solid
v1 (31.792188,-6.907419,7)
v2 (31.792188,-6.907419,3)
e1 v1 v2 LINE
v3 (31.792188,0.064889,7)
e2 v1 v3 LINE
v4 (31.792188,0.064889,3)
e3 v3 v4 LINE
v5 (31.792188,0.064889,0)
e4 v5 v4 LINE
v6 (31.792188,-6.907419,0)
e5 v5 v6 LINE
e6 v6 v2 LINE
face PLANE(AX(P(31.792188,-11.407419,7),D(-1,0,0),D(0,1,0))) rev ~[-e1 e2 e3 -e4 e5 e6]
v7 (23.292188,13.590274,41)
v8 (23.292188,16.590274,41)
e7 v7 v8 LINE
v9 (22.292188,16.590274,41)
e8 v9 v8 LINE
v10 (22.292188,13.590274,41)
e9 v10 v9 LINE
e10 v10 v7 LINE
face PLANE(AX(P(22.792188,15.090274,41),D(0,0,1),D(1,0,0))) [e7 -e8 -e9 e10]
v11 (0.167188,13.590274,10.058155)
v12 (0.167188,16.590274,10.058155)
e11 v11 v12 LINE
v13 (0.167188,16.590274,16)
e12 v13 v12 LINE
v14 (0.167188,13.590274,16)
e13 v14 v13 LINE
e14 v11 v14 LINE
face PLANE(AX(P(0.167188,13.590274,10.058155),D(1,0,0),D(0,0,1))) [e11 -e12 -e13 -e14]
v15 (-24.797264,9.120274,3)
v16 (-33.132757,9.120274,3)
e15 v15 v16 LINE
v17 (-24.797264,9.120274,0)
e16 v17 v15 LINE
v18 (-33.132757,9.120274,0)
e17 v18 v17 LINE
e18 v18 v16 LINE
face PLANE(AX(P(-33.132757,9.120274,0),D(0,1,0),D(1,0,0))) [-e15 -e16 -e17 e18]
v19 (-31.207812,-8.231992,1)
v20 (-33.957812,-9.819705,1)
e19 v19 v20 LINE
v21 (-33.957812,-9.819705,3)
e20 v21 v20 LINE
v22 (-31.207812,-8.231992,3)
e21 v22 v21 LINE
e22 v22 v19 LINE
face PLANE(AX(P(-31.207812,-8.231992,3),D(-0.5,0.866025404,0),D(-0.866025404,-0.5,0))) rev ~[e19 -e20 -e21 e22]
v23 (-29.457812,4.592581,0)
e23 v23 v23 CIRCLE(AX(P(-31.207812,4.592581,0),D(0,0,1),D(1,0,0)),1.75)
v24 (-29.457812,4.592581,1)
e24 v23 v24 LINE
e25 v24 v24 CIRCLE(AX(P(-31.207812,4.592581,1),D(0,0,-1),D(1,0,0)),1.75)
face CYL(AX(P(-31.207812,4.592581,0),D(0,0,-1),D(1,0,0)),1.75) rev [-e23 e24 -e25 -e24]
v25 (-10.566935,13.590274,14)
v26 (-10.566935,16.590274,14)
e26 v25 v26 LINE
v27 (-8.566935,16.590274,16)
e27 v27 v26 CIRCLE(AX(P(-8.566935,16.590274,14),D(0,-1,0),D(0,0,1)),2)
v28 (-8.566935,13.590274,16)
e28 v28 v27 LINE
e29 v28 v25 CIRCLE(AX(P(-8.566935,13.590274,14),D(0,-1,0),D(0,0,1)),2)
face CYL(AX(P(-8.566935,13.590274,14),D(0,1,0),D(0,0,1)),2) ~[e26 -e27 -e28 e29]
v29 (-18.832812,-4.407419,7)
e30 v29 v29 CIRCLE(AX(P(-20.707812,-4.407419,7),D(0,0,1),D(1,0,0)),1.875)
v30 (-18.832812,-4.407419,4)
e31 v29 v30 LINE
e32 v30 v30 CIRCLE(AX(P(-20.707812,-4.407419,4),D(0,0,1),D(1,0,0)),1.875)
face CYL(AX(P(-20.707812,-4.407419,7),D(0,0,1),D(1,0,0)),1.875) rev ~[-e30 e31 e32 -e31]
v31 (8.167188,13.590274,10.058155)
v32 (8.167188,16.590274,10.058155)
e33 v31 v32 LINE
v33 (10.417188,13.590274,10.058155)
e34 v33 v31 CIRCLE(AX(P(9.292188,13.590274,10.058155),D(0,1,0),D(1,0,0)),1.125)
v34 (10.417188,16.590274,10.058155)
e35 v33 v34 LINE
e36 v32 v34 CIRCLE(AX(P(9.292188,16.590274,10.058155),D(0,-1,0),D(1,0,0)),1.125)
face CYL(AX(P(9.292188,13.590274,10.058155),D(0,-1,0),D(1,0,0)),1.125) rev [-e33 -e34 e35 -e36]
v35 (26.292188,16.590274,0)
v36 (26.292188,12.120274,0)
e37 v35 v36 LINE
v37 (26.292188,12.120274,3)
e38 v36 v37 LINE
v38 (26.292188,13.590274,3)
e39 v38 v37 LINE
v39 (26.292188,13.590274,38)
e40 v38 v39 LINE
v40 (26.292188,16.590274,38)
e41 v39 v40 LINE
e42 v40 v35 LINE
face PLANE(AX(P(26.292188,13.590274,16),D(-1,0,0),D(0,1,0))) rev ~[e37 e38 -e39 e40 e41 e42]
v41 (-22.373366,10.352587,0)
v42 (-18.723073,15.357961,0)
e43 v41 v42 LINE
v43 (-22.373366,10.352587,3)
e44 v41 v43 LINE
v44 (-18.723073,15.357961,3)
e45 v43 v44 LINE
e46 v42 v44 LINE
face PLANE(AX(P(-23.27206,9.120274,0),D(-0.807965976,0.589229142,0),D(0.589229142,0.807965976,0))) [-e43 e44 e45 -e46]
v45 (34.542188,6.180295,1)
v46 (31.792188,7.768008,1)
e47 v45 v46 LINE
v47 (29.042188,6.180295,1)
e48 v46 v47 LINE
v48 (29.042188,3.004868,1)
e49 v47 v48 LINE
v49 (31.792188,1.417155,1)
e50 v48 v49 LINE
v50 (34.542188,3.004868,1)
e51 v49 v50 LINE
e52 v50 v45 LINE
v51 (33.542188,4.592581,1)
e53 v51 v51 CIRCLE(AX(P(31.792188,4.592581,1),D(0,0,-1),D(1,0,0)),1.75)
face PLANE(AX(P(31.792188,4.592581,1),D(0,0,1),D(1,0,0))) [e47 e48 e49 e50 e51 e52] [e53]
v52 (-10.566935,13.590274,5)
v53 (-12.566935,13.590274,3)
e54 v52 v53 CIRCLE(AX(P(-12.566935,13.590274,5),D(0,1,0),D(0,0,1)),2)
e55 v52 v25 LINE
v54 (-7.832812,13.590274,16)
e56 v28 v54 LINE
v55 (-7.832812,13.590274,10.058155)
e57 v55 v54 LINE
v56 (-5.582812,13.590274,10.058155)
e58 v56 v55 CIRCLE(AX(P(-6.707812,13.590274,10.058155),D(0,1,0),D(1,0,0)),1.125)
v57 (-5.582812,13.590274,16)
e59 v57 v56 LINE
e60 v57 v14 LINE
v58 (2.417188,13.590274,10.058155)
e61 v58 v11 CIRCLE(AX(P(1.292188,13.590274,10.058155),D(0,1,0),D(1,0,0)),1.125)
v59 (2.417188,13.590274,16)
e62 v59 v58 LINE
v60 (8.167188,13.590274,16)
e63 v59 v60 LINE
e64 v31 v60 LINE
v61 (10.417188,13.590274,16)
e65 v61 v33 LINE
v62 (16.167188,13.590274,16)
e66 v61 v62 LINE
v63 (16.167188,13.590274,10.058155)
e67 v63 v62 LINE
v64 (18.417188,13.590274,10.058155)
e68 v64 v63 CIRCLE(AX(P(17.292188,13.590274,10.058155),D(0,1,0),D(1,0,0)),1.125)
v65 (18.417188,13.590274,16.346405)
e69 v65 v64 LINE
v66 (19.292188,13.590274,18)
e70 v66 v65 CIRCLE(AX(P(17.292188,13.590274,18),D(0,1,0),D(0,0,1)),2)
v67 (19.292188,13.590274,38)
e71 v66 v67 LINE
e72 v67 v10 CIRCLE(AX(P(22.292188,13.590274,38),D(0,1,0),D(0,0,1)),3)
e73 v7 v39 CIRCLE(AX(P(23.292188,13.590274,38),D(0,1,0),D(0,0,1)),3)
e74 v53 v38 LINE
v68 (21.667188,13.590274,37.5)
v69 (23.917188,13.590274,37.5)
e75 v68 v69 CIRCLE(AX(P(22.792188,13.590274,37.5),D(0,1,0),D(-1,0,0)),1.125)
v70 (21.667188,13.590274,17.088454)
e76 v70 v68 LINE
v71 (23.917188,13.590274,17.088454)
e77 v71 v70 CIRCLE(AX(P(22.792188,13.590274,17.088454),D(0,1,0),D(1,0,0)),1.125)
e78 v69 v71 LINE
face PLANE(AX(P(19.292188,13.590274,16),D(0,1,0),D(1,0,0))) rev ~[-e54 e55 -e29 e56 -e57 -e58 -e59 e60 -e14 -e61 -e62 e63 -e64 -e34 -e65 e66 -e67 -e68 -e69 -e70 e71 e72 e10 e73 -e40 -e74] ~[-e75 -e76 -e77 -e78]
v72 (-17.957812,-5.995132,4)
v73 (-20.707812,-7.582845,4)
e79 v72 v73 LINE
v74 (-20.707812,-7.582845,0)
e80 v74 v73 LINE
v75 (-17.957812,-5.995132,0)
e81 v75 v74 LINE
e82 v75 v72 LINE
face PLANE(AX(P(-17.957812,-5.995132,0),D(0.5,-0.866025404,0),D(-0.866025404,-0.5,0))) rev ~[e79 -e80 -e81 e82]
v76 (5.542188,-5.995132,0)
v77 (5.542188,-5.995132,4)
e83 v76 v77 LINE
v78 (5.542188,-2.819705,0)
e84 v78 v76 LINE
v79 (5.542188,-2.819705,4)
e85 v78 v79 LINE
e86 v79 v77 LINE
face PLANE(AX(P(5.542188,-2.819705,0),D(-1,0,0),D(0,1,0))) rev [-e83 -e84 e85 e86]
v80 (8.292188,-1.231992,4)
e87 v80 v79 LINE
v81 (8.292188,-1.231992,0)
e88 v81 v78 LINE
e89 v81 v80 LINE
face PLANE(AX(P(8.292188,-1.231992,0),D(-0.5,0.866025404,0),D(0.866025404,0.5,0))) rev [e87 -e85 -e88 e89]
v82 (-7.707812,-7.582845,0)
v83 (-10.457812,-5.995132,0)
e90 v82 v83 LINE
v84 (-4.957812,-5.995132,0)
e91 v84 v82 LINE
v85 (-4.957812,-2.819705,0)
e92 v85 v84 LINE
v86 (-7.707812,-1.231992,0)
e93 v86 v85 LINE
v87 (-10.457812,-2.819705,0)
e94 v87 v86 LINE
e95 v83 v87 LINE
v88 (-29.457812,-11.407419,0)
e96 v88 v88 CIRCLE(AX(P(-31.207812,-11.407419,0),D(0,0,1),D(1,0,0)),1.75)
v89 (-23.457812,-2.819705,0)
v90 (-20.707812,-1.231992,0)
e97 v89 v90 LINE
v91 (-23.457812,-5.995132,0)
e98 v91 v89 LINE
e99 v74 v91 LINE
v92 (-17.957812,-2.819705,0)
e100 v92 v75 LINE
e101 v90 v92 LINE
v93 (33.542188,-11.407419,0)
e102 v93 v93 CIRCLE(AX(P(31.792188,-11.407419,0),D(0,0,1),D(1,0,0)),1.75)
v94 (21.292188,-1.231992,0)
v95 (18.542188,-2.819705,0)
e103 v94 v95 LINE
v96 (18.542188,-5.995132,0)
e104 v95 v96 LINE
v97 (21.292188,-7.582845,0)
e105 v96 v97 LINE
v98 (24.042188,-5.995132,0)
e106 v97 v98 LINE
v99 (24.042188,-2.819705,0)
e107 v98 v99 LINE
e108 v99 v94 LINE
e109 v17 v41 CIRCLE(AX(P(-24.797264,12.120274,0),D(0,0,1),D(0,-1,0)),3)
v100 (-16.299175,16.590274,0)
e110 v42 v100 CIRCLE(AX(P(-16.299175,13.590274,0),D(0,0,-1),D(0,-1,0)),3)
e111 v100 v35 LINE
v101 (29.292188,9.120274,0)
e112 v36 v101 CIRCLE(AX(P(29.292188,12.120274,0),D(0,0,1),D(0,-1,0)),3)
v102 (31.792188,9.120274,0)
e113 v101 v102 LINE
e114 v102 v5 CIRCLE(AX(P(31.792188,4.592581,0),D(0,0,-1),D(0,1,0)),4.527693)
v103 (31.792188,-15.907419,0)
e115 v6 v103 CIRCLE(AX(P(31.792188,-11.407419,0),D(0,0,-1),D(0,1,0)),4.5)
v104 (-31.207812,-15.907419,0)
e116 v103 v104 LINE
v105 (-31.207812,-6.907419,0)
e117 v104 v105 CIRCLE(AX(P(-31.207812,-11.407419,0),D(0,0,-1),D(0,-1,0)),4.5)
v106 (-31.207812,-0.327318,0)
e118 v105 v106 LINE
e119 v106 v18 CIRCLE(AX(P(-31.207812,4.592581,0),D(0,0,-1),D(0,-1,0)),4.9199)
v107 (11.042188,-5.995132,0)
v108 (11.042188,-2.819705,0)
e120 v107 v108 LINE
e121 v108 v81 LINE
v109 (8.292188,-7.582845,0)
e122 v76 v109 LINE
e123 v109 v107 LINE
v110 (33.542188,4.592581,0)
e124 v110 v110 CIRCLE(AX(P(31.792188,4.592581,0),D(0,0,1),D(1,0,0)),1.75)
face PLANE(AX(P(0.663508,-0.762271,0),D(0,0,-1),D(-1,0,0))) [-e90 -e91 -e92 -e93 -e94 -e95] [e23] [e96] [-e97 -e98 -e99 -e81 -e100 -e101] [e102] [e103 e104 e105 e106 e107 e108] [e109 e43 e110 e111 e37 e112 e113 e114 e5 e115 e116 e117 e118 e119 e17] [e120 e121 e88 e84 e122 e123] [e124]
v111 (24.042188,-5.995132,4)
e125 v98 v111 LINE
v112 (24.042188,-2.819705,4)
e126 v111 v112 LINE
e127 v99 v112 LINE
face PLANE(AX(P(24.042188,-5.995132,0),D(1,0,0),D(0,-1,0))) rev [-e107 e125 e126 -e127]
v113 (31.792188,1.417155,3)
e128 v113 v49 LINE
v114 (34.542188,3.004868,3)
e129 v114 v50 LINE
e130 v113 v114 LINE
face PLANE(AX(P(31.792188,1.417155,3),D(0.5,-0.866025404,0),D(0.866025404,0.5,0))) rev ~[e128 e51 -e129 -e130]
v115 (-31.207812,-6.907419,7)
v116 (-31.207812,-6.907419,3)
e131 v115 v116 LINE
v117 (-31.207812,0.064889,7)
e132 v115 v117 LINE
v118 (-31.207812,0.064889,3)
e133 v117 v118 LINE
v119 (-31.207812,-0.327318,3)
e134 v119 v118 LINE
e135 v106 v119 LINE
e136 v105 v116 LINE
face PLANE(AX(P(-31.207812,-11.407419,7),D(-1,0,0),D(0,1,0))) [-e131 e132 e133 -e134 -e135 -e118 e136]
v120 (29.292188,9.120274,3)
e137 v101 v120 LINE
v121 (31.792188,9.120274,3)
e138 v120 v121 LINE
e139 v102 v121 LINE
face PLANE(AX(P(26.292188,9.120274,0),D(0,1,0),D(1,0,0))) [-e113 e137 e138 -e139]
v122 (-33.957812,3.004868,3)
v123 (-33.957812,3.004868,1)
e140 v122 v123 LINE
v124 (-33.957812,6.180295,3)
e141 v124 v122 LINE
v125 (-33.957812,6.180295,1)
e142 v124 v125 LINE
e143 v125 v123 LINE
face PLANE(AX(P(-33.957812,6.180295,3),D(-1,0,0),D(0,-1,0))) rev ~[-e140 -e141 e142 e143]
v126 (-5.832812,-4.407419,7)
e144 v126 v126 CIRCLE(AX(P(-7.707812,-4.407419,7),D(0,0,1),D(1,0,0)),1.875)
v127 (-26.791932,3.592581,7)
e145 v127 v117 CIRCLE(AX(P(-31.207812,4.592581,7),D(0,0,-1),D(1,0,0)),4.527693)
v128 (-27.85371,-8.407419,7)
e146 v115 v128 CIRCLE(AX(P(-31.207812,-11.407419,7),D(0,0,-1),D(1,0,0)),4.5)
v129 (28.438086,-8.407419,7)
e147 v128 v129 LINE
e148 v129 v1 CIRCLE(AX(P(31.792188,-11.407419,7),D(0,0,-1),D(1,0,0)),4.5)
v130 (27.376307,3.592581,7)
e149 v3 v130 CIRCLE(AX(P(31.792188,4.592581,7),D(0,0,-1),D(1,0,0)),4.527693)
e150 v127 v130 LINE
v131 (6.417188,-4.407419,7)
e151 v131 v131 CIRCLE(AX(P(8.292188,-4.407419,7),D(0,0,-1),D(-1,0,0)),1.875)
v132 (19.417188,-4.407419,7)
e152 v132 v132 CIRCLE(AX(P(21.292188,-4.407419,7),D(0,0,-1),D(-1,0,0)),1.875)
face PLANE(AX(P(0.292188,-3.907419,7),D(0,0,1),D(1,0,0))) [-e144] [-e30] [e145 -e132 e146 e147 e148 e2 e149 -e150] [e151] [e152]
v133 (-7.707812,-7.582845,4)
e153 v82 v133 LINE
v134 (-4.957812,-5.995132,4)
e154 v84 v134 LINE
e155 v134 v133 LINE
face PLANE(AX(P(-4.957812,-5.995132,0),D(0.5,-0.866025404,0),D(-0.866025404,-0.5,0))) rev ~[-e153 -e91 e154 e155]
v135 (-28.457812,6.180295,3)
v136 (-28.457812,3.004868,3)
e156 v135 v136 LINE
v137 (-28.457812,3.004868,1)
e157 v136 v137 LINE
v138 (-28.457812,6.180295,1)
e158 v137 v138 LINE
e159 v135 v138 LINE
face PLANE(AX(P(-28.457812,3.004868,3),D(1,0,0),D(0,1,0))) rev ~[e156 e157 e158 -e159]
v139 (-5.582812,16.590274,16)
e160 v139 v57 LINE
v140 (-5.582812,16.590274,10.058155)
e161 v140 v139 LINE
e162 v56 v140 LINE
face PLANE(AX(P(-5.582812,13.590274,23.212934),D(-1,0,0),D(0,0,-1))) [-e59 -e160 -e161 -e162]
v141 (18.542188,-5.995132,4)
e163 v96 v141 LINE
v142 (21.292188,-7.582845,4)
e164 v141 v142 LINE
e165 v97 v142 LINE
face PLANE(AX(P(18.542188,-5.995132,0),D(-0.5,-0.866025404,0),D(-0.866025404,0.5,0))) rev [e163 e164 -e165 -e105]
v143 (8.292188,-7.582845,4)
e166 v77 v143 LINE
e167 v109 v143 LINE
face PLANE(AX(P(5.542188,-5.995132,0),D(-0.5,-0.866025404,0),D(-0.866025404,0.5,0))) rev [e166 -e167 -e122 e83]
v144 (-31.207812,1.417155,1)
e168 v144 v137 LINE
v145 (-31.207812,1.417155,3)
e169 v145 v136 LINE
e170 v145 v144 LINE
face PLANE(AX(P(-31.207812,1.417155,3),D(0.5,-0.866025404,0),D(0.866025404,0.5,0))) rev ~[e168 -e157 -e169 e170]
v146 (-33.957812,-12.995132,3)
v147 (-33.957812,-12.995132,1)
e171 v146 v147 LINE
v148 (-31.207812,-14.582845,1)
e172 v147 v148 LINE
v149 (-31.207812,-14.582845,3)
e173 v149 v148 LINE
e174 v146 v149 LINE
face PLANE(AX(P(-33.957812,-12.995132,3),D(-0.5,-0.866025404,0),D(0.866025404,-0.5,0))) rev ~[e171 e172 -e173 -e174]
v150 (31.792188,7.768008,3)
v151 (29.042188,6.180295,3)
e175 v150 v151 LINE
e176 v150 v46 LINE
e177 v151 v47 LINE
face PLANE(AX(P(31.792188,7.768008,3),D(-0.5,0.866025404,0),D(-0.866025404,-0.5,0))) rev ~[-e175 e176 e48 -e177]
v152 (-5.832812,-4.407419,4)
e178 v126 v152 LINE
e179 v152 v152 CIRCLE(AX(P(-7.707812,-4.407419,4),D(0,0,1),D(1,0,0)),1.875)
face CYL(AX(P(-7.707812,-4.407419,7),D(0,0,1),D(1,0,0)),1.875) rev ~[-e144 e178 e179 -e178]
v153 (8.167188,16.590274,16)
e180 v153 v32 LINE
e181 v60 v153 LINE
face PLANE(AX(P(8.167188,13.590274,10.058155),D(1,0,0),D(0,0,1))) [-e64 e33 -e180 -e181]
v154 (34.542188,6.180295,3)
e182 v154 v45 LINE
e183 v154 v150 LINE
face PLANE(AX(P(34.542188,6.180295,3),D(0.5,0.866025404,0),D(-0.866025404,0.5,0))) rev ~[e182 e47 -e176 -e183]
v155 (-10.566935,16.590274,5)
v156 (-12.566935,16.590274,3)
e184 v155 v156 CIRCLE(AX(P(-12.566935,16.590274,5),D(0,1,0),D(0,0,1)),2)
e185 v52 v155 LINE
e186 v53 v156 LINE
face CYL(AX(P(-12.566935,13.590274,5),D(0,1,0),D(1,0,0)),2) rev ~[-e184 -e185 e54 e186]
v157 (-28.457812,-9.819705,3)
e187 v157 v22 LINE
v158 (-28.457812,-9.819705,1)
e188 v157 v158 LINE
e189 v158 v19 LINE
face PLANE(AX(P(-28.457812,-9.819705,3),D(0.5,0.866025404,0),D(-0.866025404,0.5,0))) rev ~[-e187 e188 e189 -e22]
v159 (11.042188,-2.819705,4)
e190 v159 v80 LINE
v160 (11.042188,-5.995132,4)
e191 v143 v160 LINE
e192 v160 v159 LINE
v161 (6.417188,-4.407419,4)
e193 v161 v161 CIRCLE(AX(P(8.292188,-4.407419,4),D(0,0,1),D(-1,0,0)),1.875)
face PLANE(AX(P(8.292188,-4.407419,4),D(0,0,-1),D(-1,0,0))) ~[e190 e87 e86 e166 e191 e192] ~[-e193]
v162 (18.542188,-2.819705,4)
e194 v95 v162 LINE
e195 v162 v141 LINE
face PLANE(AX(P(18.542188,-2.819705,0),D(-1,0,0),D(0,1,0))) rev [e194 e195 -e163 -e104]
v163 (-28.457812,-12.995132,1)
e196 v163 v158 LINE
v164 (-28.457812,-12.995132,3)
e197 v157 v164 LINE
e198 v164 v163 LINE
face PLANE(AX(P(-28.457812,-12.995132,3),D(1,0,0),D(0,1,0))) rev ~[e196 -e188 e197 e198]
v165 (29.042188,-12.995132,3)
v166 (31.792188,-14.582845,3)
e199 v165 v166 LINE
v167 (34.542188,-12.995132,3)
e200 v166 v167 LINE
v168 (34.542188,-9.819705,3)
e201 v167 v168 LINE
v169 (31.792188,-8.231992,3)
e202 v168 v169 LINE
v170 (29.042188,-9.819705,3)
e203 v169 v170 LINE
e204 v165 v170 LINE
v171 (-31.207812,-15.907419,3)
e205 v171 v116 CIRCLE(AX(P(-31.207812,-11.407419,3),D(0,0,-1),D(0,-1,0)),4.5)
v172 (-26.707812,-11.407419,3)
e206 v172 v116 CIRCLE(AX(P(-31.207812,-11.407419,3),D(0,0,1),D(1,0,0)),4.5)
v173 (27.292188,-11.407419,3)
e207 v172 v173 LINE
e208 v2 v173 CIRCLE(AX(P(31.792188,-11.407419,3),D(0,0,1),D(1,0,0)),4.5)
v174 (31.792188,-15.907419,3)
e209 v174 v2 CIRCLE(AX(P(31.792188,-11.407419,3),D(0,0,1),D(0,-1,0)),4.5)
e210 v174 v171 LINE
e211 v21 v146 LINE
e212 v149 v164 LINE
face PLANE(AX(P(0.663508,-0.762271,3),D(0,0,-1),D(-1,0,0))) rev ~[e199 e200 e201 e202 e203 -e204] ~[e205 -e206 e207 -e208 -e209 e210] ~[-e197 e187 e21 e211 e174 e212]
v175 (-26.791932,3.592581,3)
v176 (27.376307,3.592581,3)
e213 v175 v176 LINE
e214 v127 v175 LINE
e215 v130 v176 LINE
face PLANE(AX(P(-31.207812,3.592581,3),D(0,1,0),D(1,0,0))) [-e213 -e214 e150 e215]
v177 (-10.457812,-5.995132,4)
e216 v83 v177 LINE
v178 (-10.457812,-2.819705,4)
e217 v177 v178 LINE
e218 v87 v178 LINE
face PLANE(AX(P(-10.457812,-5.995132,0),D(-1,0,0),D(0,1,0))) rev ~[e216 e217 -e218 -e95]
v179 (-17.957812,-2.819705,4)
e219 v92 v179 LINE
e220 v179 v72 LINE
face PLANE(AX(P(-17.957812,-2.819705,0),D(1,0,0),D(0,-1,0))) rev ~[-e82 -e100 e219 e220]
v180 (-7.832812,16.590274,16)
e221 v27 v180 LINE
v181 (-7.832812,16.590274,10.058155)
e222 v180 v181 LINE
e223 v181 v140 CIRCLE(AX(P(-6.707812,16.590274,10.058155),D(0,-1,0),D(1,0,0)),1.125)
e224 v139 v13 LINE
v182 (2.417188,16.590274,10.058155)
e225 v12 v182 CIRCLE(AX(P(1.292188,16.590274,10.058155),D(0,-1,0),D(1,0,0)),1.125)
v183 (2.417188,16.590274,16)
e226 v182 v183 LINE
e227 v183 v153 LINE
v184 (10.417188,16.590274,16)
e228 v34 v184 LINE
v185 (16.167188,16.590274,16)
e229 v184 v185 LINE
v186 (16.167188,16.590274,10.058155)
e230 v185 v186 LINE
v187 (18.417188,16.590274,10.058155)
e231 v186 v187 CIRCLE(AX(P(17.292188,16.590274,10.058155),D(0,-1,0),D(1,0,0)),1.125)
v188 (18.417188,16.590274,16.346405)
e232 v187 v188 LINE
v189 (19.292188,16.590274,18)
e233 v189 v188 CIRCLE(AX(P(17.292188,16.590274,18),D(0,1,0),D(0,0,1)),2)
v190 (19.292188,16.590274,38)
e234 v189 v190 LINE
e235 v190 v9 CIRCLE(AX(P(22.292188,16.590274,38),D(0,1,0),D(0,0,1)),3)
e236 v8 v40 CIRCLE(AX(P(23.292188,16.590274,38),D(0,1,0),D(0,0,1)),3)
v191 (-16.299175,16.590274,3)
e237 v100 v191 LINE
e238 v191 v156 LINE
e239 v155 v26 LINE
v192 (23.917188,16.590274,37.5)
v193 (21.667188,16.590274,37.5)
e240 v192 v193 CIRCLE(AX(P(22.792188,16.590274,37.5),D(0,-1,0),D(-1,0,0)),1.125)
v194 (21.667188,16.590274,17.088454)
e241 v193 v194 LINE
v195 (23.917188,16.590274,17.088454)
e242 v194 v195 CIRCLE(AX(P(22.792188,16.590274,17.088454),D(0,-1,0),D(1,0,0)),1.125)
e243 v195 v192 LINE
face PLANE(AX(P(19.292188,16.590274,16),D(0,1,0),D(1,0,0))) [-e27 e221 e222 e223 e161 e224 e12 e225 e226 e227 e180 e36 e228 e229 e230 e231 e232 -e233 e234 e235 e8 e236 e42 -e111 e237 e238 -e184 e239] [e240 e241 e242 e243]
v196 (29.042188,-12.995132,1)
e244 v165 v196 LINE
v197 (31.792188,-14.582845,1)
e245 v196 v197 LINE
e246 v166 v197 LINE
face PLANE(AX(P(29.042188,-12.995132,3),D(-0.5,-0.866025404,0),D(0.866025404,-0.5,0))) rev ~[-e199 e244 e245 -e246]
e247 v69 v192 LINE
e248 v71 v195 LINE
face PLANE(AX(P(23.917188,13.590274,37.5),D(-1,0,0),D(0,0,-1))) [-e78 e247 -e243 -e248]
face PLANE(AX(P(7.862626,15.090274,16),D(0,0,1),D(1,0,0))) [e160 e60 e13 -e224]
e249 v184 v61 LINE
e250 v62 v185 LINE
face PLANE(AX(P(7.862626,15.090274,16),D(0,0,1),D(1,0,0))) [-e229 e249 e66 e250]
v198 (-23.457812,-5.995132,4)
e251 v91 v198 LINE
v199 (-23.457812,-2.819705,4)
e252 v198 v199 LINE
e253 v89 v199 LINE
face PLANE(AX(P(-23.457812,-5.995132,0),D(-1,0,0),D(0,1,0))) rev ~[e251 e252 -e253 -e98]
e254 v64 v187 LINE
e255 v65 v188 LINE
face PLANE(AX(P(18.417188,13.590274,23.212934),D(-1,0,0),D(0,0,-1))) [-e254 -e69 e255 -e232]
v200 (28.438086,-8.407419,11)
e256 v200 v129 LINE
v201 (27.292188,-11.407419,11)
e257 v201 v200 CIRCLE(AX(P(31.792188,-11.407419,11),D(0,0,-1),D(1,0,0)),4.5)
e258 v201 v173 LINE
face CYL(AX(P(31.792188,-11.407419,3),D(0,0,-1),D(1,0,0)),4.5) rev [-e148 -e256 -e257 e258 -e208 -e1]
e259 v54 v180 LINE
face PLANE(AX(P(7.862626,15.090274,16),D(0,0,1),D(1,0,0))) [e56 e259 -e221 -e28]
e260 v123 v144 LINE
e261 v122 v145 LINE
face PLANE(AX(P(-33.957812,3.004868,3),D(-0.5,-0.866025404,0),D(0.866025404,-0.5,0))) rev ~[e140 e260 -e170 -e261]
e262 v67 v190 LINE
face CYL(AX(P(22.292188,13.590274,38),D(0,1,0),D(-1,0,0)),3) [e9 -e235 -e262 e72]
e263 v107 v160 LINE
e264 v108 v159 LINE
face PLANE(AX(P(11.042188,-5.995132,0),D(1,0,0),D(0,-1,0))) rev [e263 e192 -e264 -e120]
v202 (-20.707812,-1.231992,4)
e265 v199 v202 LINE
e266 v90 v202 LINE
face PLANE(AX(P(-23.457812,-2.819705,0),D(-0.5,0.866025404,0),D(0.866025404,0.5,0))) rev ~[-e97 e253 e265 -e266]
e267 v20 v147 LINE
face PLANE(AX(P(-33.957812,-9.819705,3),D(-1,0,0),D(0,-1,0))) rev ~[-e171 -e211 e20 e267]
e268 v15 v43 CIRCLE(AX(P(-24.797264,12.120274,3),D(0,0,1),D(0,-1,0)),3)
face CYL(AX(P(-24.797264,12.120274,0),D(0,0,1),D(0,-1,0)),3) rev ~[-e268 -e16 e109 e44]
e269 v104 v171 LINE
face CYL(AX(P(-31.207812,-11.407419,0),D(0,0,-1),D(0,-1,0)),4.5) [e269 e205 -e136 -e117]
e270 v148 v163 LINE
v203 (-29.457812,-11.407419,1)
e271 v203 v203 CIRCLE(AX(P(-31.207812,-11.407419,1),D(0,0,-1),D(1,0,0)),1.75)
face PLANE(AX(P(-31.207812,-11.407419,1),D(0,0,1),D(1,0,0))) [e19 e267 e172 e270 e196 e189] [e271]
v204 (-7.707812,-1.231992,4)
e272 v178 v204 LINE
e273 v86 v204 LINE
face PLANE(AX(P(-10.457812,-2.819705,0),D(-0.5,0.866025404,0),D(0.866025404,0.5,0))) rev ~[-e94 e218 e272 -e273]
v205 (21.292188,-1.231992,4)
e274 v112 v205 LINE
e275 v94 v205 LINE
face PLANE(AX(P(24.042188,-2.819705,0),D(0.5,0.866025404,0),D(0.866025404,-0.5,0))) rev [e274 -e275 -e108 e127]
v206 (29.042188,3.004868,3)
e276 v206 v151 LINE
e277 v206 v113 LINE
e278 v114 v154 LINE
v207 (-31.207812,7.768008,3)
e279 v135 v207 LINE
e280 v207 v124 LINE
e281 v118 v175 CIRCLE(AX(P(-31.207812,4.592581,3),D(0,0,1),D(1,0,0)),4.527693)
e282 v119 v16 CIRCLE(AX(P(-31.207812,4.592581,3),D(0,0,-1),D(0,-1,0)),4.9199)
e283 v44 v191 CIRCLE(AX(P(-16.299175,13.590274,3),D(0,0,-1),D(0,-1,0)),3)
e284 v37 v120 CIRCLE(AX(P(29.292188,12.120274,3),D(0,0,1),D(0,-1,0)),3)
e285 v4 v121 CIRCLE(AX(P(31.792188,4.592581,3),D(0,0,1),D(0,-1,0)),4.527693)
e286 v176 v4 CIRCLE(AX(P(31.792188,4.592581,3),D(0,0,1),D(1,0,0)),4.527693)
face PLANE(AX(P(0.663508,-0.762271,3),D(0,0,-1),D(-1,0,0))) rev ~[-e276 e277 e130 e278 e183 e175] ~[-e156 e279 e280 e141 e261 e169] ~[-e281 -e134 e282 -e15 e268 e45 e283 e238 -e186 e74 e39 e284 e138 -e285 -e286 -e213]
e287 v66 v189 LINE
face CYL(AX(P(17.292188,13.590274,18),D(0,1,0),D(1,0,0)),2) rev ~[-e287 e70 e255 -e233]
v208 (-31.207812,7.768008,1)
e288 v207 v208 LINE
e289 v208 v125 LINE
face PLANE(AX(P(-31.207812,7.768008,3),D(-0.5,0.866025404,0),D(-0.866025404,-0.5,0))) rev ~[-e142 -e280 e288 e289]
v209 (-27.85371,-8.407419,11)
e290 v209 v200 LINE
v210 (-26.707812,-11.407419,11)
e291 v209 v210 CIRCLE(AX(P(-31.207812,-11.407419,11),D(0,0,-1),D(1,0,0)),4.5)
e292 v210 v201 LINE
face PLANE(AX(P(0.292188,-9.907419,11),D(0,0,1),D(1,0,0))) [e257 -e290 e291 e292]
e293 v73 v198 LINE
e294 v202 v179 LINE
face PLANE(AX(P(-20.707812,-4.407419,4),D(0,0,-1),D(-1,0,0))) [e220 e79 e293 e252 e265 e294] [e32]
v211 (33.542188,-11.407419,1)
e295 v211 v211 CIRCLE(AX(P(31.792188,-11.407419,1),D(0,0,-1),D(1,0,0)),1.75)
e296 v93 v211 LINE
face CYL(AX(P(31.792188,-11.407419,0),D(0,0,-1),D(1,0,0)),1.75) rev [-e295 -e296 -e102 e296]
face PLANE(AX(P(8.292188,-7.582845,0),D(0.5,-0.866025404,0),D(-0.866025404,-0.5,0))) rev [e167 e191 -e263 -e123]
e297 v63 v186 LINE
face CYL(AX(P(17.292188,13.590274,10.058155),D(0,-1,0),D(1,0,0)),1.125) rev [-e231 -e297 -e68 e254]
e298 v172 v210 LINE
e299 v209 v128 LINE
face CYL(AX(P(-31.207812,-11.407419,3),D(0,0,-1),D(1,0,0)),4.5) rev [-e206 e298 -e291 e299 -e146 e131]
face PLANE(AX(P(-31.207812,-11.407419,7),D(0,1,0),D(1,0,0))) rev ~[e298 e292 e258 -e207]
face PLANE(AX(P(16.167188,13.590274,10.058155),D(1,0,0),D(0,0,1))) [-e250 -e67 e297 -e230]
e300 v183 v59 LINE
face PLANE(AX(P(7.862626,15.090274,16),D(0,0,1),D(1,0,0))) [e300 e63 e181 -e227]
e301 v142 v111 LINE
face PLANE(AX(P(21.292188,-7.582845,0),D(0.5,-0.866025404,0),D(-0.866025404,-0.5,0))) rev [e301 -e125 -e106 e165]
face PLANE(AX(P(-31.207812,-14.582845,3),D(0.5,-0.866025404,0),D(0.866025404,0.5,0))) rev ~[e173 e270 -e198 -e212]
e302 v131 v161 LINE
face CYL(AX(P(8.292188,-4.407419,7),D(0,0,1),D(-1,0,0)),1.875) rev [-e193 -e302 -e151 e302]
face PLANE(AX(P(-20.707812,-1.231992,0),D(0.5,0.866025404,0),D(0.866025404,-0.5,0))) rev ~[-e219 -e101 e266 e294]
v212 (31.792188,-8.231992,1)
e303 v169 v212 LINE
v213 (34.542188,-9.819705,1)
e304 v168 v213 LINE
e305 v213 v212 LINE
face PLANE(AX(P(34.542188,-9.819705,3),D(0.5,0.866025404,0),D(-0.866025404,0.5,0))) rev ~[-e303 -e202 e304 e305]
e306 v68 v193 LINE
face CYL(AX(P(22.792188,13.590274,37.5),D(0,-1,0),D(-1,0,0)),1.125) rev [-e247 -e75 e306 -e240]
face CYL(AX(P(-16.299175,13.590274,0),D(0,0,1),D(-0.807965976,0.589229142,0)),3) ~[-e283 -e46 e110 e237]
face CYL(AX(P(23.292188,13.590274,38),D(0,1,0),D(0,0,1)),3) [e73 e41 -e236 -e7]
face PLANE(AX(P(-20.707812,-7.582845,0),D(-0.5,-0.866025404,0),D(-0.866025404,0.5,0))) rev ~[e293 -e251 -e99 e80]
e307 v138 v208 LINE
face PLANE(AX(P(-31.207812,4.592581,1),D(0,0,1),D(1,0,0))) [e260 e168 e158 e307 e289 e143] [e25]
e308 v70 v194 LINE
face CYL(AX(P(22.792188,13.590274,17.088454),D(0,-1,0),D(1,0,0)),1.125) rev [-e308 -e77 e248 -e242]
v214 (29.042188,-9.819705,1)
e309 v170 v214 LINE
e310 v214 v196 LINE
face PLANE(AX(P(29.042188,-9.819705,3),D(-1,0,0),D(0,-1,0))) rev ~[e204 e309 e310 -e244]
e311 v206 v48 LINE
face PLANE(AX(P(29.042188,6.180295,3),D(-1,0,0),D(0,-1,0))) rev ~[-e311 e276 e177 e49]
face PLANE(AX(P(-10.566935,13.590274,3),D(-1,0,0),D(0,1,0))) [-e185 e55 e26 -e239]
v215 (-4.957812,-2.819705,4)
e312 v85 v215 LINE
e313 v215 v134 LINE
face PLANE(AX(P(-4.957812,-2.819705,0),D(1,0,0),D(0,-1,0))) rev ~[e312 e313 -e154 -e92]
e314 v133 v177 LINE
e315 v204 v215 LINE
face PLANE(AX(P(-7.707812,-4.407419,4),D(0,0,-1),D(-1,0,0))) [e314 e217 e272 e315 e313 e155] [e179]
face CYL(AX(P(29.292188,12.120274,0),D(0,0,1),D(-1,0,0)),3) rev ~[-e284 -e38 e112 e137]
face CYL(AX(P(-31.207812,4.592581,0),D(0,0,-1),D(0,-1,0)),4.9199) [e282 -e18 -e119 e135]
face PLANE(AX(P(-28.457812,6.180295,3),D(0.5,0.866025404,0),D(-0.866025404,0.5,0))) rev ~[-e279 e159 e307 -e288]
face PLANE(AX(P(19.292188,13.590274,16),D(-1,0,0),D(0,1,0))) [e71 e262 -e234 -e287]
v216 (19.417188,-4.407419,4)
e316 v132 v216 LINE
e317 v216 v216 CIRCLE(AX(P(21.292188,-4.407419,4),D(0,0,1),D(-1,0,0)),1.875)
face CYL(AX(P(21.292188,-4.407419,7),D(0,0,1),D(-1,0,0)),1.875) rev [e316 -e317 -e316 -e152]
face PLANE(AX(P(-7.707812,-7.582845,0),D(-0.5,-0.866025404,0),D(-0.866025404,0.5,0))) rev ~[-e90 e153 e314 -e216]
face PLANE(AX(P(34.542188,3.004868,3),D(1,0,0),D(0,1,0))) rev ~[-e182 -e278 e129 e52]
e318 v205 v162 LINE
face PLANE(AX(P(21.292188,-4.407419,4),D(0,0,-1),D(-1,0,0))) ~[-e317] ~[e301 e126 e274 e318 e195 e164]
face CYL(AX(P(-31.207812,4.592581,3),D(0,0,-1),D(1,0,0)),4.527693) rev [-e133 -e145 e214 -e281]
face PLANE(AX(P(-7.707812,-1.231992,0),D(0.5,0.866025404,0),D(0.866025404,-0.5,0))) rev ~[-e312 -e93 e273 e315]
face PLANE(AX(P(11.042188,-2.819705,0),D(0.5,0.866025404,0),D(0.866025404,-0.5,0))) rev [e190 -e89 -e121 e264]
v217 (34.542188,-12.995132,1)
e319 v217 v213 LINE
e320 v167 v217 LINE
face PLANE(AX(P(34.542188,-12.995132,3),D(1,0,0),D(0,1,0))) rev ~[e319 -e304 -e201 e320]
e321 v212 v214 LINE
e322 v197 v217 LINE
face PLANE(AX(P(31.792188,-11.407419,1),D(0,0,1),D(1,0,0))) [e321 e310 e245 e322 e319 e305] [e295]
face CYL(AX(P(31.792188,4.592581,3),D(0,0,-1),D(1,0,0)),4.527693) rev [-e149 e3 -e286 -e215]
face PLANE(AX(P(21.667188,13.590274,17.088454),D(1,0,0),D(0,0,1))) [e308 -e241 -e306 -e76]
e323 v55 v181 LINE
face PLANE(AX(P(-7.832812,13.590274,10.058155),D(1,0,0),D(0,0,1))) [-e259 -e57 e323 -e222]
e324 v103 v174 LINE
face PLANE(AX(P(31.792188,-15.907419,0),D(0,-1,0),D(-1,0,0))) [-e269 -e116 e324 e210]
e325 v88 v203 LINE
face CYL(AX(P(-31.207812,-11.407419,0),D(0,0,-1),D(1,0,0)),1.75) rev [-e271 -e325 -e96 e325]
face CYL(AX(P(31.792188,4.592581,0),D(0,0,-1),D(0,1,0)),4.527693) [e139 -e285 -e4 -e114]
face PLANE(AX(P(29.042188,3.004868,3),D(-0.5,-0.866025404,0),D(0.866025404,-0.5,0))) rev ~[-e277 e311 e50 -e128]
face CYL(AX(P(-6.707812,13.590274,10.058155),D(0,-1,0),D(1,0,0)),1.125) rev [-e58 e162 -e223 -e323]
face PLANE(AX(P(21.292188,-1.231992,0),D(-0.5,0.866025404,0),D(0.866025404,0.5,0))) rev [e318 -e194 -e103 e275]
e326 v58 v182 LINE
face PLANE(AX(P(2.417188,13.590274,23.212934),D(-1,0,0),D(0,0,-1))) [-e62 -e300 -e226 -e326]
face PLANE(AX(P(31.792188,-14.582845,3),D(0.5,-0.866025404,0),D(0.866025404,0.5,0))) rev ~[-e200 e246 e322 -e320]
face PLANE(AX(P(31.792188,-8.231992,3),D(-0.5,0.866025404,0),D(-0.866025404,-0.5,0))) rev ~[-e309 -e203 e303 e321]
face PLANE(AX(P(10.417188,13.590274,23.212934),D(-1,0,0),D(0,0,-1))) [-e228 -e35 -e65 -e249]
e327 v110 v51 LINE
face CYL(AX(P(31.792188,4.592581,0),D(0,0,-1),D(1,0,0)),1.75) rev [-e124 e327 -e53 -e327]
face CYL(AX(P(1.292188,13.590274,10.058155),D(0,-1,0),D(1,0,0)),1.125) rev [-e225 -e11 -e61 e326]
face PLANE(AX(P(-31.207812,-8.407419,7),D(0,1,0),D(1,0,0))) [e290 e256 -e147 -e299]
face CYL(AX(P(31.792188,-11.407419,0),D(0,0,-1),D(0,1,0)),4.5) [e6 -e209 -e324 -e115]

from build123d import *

# Parameters (mm, degrees)
ESQUISSE1_R             = 1.749999998
BOSS_EXTRU_1_DEPTH      = 3
ENL_V_MAT_EXTRU_1_DEPTH = 2
ESQUISSE3_W             = 63
ESQUISSE3_H             = 15
BOSS_EXTRU_2_DEPTH      = 4
ESQUISSE5_W             = 63
ESQUISSE5_H             = 3
BOSS_EXTRU_3_DEPTH      = 4
ESQUISSE4_R             = 4.499999998
ESQUISSE4_R_2           = 4.527692567
ENL_V_MAT_EXTRU_2_DEPTH = 41.723100164
ESQUISSE6_R             = 1.875
ENL_V_MAT_EXTRU_4_DEPTH = 41.538511158
ENL_V_MAT_EXTRU_5_DEPTH = 4
ESQUISSE8_W             = 36.859122618
ESQUISSE8_H             = 3
BOSS_EXTRU_4_DEPTH      = 13
CONG_1_R                = 3
ESQUISSE9_W             = 7
ESQUISSE9_H             = 3
BOSS_EXTRU_5_DEPTH      = 25
CONG_2_R                = 3
CONG_3_R                = 2
CONG_4_R                = 2
ENL_V_MAT_EXTRU_6_DEPTH = 63.211313789


with BuildPart() as part:
    # Esquisse1 → Boss.-Extru.1 (new body)
    with BuildSketch(Plane.XY):
        with BuildLine():
            Line((-33.132757167, 9.120273973), (-23.272060479, 9.120273973))
            Line((-23.272060479, 9.120273973), (-17.824378499, 16.590273973))
            Line((-17.824378499, 16.590273973), (26.292187613, 16.590273973))
            Line((26.292187613, 16.590273973), (26.292187613, 9.120273973))
            Line((26.292187613, 9.120273973), (31.792187613, 9.120273973))
            ThreePointArc((31.792187613, 9.120273973), (36.319880182, 4.592581404), (31.792187613, 0.064888835))
            Line((31.792187613, 0.064888835), (31.792187613, -6.907418596))
            ThreePointArc((31.792187613, -6.907418596), (36.292187613, -11.407418596), (31.792187613, -15.907418596))
            Line((31.792187613, -15.907418596), (-31.207812389, -15.907418596))
            ThreePointArc((-31.207812389, -15.907418596), (-35.707812387, -11.407418595), (-31.207812387, -6.907418596))
            Line((-31.207812387, -6.907418596), (-31.207812387, -0.327318229))
            ThreePointArc((-31.207812387, -0.327318229), (-36.028663215, 3.610334136), (-33.132757167, 9.120273973))
        make_face()
        with Locations((-31.207812387, 4.592581404)):
            Circle(ESQUISSE1_R, mode=Mode.SUBTRACT)
        with Locations((-31.207812387, -11.407418596)):
            Circle(ESQUISSE1_R, mode=Mode.SUBTRACT)
        with Locations((31.792187613, 4.592581404)):
            Circle(ESQUISSE1_R, mode=Mode.SUBTRACT)
        with Locations((31.792187613, -11.407418596)):
            Circle(ESQUISSE1_R, mode=Mode.SUBTRACT)
    extrude(amount=BOSS_EXTRU_1_DEPTH)

    # Esquisse2 → Enlèv. mat.-Extru.1 (cut)
    with BuildSketch(Plane.XY.offset(3)):
        Polygon((-28.457812387, 6.180294644), (-31.207812387, 7.768007885), (-33.957812387, 6.180294644), (-33.957812387, 3.004868164), (-31.207812387, 1.417154924), (-28.457812387, 3.004868164), align=None)
        Polygon((-28.457812387, -9.819705356), (-31.207812387, -8.231992115), (-33.957812387, -9.819705356), (-33.957812387, -12.995131836), (-31.207812387, -14.582845076), (-28.457812387, -12.995131836), align=None)
        Polygon((29.042187613, -9.819705356), (29.042187613, -12.995131836), (31.792187613, -14.582845076), (34.542187613, -12.995131836), (34.542187613, -9.819705356), (31.792187613, -8.231992115), align=None)
        Polygon((29.042187613, 3.004868164), (31.792187613, 1.417154924), (34.542187613, 3.004868164), (34.542187613, 6.180294644), (31.792187613, 7.768007885), (29.042187613, 6.180294644), align=None)
    extrude(amount=-ENL_V_MAT_EXTRU_1_DEPTH, mode=Mode.SUBTRACT)

    # Esquisse3 → Boss.-Extru.2 (add)
    with BuildSketch(Plane.XY.offset(3)):
        with Locations((0.292187613, -3.907418596)):
            Rectangle(ESQUISSE3_W, ESQUISSE3_H)
    extrude(amount=BOSS_EXTRU_2_DEPTH)

    # Esquisse5 → Boss.-Extru.3 (add)
    with BuildSketch(Plane.XY.offset(7)):
        with Locations((0.292187613, -9.907418596)):
            Rectangle(ESQUISSE5_W, ESQUISSE5_H)
    extrude(amount=BOSS_EXTRU_3_DEPTH)

    # Esquisse4 → Enlèv. mat.-Extru.2 (cut, through all)
    with BuildSketch(Plane.XY.offset(3)):
        with Locations((-31.207812387, -11.407418596)):
            Circle(ESQUISSE4_R)
        with Locations((31.792187613, -11.407418596)):
            Circle(ESQUISSE4_R)
        with Locations((-31.207812387, 4.592581404)):
            Circle(ESQUISSE4_R_2)
        with Locations((31.792187613, 4.592581404)):
            Circle(ESQUISSE4_R_2)
    extrude(amount=ENL_V_MAT_EXTRU_2_DEPTH, mode=Mode.SUBTRACT)

    # Esquisse6 → Enlèv. mat.-Extru.4 (cut, through all)
    with BuildSketch(Plane.XY.offset(7)):
        with Locations((-20.707812387, -4.407418596)):
            Circle(ESQUISSE6_R)
        with Locations((-7.707812387, -4.407418596)):
            Circle(ESQUISSE6_R)
    enl_v_mat_extru_4 = extrude(amount=-ENL_V_MAT_EXTRU_4_DEPTH, mode=Mode.SUBTRACT)

    # Esquisse7 → Enlèv. mat.-Extru.5 (cut)
    with BuildSketch(Plane(origin=(0, 0, 0), x_dir=(-1, 0, 0), z_dir=(0, 0, -1))):
        Polygon((23.457812387, -2.819705356), (20.707812387, -1.231992115), (17.957812387, -2.819705356), (17.957812387, -5.995131836), (20.707812387, -7.582845076), (23.457812387, -5.995131836), align=None)
        Polygon((10.457812387, -2.819705356), (7.707812387, -1.231992115), (4.957812387, -2.819705356), (4.957812387, -5.995131836), (7.707812387, -7.582845076), (10.457812387, -5.995131836), align=None)
    enl_v_mat_extru_5 = extrude(amount=-ENL_V_MAT_EXTRU_5_DEPTH, mode=Mode.SUBTRACT)

    # Symétrie1: Enlèv. mat.-Extru.4, Enlèv. mat.-Extru.5 across plane
    add(enl_v_mat_extru_4.mirror(Plane(origin=(0.292187613, 0, 0), x_dir=(0, 0, 1), z_dir=(1, 0, 0))), mode=Mode.SUBTRACT)
    add(enl_v_mat_extru_5.mirror(Plane(origin=(0.292187613, 0, 0), x_dir=(0, 0, 1), z_dir=(1, 0, 0))), mode=Mode.SUBTRACT)

    # Esquisse8 → Boss.-Extru.4 (add)
    with BuildSketch(Plane.XY.offset(3)):
        with Locations((7.862626304, 15.090273973)):
            Rectangle(ESQUISSE8_W, ESQUISSE8_H)
    extrude(amount=BOSS_EXTRU_4_DEPTH)

    # Congé1
    cong_1_edges = [part.edges().sort_by_distance(p)[0] for p in [
        (-23.272060479, 9.120273973, 1.5),
        (-17.824378499, 16.590273973, 1.5),
        (26.292187613, 9.120273973, 1.5),
    ]]
    fillet(cong_1_edges, radius=CONG_1_R)

    # Esquisse9 → Boss.-Extru.5 (add)
    with BuildSketch(Plane.XY.offset(16)):
        with Locations((22.792187613, 15.090273973)):
            Rectangle(ESQUISSE9_W, ESQUISSE9_H)
    extrude(amount=BOSS_EXTRU_5_DEPTH)

    # Congé2
    cong_2_edges = [part.edges().sort_by_distance(p)[0] for p in [
        (19.292187613, 15.090273973, 41),
        (26.292187613, 15.090273973, 41),
    ]]
    fillet(cong_2_edges, radius=CONG_2_R)

    # Congé3
    cong_3_edges = [part.edges().sort_by_distance(p)[0] for p in [
        (19.292187613, 15.090273973, 16),
    ]]
    fillet(cong_3_edges, radius=CONG_3_R)

    # Congé4
    cong_4_edges = [part.edges().sort_by_distance(p)[0] for p in [
        (-10.566935005, 15.090273973, 3),
        (-10.566935005, 15.090273973, 16),
    ]]
    fillet(cong_4_edges, radius=CONG_4_R)

    # Esquisse10 → Enlèv. mat.-Extru.6 (cut, through all)
    with BuildSketch(Plane.XZ.offset(-13.590273973)):
        with BuildLine():
            Line((23.917187613, 37.5), (23.917187613, 17.088453941))
            ThreePointArc((23.917187613, 17.088453941), (22.792187613, 15.963453941), (21.667187613, 17.088453941))
            Line((21.667187613, 17.088453941), (21.667187613, 37.5))
            ThreePointArc((21.667187613, 37.5), (22.792187613, 38.625), (23.917187613, 37.5))
        make_face()
        with BuildLine():
            Line((18.417187613, 23.212933961), (18.417187613, 10.058154515))
            ThreePointArc((18.417187613, 10.058154515), (17.292187613, 8.933154515), (16.167187613, 10.058154515))
            Line((16.167187613, 10.058154515), (16.167187613, 23.212933961))
            ThreePointArc((16.167187613, 23.212933961), (17.292187613, 24.337933961), (18.417187613, 23.212933961))
        make_face()
        with BuildLine():
            Line((10.417187613, 23.212933961), (10.417187613, 10.058154515))
            ThreePointArc((10.417187613, 10.058154515), (9.292187613, 8.933154515), (8.167187613, 10.058154515))
            Line((8.167187613, 10.058154515), (8.167187613, 23.212933961))
            ThreePointArc((8.167187613, 23.212933961), (9.292187613, 24.337933961), (10.417187613, 23.212933961))
        make_face()
        with BuildLine():
            Line((2.417187613, 23.212933961), (2.417187613, 10.058154515))
            ThreePointArc((2.417187613, 10.058154515), (1.292187613, 8.933154515), (0.167187613, 10.058154515))
            Line((0.167187613, 10.058154515), (0.167187613, 23.212933961))
            ThreePointArc((0.167187613, 23.212933961), (1.292187613, 24.337933961), (2.417187613, 23.212933961))
        make_face()
        with BuildLine():
            Line((-5.582812387, 23.212933961), (-5.582812387, 10.058154515))
            ThreePointArc((-5.582812387, 10.058154515), (-6.707812387, 8.933154515), (-7.832812387, 10.058154515))
            Line((-7.832812387, 10.058154515), (-7.832812387, 23.212933961))
            ThreePointArc((-7.832812387, 23.212933961), (-6.707812387, 24.337933961), (-5.582812387, 23.212933961))
        make_face()
    extrude(amount=-ENL_V_MAT_EXTRU_6_DEPTH, mode=Mode.SUBTRACT)


solid = part.part
